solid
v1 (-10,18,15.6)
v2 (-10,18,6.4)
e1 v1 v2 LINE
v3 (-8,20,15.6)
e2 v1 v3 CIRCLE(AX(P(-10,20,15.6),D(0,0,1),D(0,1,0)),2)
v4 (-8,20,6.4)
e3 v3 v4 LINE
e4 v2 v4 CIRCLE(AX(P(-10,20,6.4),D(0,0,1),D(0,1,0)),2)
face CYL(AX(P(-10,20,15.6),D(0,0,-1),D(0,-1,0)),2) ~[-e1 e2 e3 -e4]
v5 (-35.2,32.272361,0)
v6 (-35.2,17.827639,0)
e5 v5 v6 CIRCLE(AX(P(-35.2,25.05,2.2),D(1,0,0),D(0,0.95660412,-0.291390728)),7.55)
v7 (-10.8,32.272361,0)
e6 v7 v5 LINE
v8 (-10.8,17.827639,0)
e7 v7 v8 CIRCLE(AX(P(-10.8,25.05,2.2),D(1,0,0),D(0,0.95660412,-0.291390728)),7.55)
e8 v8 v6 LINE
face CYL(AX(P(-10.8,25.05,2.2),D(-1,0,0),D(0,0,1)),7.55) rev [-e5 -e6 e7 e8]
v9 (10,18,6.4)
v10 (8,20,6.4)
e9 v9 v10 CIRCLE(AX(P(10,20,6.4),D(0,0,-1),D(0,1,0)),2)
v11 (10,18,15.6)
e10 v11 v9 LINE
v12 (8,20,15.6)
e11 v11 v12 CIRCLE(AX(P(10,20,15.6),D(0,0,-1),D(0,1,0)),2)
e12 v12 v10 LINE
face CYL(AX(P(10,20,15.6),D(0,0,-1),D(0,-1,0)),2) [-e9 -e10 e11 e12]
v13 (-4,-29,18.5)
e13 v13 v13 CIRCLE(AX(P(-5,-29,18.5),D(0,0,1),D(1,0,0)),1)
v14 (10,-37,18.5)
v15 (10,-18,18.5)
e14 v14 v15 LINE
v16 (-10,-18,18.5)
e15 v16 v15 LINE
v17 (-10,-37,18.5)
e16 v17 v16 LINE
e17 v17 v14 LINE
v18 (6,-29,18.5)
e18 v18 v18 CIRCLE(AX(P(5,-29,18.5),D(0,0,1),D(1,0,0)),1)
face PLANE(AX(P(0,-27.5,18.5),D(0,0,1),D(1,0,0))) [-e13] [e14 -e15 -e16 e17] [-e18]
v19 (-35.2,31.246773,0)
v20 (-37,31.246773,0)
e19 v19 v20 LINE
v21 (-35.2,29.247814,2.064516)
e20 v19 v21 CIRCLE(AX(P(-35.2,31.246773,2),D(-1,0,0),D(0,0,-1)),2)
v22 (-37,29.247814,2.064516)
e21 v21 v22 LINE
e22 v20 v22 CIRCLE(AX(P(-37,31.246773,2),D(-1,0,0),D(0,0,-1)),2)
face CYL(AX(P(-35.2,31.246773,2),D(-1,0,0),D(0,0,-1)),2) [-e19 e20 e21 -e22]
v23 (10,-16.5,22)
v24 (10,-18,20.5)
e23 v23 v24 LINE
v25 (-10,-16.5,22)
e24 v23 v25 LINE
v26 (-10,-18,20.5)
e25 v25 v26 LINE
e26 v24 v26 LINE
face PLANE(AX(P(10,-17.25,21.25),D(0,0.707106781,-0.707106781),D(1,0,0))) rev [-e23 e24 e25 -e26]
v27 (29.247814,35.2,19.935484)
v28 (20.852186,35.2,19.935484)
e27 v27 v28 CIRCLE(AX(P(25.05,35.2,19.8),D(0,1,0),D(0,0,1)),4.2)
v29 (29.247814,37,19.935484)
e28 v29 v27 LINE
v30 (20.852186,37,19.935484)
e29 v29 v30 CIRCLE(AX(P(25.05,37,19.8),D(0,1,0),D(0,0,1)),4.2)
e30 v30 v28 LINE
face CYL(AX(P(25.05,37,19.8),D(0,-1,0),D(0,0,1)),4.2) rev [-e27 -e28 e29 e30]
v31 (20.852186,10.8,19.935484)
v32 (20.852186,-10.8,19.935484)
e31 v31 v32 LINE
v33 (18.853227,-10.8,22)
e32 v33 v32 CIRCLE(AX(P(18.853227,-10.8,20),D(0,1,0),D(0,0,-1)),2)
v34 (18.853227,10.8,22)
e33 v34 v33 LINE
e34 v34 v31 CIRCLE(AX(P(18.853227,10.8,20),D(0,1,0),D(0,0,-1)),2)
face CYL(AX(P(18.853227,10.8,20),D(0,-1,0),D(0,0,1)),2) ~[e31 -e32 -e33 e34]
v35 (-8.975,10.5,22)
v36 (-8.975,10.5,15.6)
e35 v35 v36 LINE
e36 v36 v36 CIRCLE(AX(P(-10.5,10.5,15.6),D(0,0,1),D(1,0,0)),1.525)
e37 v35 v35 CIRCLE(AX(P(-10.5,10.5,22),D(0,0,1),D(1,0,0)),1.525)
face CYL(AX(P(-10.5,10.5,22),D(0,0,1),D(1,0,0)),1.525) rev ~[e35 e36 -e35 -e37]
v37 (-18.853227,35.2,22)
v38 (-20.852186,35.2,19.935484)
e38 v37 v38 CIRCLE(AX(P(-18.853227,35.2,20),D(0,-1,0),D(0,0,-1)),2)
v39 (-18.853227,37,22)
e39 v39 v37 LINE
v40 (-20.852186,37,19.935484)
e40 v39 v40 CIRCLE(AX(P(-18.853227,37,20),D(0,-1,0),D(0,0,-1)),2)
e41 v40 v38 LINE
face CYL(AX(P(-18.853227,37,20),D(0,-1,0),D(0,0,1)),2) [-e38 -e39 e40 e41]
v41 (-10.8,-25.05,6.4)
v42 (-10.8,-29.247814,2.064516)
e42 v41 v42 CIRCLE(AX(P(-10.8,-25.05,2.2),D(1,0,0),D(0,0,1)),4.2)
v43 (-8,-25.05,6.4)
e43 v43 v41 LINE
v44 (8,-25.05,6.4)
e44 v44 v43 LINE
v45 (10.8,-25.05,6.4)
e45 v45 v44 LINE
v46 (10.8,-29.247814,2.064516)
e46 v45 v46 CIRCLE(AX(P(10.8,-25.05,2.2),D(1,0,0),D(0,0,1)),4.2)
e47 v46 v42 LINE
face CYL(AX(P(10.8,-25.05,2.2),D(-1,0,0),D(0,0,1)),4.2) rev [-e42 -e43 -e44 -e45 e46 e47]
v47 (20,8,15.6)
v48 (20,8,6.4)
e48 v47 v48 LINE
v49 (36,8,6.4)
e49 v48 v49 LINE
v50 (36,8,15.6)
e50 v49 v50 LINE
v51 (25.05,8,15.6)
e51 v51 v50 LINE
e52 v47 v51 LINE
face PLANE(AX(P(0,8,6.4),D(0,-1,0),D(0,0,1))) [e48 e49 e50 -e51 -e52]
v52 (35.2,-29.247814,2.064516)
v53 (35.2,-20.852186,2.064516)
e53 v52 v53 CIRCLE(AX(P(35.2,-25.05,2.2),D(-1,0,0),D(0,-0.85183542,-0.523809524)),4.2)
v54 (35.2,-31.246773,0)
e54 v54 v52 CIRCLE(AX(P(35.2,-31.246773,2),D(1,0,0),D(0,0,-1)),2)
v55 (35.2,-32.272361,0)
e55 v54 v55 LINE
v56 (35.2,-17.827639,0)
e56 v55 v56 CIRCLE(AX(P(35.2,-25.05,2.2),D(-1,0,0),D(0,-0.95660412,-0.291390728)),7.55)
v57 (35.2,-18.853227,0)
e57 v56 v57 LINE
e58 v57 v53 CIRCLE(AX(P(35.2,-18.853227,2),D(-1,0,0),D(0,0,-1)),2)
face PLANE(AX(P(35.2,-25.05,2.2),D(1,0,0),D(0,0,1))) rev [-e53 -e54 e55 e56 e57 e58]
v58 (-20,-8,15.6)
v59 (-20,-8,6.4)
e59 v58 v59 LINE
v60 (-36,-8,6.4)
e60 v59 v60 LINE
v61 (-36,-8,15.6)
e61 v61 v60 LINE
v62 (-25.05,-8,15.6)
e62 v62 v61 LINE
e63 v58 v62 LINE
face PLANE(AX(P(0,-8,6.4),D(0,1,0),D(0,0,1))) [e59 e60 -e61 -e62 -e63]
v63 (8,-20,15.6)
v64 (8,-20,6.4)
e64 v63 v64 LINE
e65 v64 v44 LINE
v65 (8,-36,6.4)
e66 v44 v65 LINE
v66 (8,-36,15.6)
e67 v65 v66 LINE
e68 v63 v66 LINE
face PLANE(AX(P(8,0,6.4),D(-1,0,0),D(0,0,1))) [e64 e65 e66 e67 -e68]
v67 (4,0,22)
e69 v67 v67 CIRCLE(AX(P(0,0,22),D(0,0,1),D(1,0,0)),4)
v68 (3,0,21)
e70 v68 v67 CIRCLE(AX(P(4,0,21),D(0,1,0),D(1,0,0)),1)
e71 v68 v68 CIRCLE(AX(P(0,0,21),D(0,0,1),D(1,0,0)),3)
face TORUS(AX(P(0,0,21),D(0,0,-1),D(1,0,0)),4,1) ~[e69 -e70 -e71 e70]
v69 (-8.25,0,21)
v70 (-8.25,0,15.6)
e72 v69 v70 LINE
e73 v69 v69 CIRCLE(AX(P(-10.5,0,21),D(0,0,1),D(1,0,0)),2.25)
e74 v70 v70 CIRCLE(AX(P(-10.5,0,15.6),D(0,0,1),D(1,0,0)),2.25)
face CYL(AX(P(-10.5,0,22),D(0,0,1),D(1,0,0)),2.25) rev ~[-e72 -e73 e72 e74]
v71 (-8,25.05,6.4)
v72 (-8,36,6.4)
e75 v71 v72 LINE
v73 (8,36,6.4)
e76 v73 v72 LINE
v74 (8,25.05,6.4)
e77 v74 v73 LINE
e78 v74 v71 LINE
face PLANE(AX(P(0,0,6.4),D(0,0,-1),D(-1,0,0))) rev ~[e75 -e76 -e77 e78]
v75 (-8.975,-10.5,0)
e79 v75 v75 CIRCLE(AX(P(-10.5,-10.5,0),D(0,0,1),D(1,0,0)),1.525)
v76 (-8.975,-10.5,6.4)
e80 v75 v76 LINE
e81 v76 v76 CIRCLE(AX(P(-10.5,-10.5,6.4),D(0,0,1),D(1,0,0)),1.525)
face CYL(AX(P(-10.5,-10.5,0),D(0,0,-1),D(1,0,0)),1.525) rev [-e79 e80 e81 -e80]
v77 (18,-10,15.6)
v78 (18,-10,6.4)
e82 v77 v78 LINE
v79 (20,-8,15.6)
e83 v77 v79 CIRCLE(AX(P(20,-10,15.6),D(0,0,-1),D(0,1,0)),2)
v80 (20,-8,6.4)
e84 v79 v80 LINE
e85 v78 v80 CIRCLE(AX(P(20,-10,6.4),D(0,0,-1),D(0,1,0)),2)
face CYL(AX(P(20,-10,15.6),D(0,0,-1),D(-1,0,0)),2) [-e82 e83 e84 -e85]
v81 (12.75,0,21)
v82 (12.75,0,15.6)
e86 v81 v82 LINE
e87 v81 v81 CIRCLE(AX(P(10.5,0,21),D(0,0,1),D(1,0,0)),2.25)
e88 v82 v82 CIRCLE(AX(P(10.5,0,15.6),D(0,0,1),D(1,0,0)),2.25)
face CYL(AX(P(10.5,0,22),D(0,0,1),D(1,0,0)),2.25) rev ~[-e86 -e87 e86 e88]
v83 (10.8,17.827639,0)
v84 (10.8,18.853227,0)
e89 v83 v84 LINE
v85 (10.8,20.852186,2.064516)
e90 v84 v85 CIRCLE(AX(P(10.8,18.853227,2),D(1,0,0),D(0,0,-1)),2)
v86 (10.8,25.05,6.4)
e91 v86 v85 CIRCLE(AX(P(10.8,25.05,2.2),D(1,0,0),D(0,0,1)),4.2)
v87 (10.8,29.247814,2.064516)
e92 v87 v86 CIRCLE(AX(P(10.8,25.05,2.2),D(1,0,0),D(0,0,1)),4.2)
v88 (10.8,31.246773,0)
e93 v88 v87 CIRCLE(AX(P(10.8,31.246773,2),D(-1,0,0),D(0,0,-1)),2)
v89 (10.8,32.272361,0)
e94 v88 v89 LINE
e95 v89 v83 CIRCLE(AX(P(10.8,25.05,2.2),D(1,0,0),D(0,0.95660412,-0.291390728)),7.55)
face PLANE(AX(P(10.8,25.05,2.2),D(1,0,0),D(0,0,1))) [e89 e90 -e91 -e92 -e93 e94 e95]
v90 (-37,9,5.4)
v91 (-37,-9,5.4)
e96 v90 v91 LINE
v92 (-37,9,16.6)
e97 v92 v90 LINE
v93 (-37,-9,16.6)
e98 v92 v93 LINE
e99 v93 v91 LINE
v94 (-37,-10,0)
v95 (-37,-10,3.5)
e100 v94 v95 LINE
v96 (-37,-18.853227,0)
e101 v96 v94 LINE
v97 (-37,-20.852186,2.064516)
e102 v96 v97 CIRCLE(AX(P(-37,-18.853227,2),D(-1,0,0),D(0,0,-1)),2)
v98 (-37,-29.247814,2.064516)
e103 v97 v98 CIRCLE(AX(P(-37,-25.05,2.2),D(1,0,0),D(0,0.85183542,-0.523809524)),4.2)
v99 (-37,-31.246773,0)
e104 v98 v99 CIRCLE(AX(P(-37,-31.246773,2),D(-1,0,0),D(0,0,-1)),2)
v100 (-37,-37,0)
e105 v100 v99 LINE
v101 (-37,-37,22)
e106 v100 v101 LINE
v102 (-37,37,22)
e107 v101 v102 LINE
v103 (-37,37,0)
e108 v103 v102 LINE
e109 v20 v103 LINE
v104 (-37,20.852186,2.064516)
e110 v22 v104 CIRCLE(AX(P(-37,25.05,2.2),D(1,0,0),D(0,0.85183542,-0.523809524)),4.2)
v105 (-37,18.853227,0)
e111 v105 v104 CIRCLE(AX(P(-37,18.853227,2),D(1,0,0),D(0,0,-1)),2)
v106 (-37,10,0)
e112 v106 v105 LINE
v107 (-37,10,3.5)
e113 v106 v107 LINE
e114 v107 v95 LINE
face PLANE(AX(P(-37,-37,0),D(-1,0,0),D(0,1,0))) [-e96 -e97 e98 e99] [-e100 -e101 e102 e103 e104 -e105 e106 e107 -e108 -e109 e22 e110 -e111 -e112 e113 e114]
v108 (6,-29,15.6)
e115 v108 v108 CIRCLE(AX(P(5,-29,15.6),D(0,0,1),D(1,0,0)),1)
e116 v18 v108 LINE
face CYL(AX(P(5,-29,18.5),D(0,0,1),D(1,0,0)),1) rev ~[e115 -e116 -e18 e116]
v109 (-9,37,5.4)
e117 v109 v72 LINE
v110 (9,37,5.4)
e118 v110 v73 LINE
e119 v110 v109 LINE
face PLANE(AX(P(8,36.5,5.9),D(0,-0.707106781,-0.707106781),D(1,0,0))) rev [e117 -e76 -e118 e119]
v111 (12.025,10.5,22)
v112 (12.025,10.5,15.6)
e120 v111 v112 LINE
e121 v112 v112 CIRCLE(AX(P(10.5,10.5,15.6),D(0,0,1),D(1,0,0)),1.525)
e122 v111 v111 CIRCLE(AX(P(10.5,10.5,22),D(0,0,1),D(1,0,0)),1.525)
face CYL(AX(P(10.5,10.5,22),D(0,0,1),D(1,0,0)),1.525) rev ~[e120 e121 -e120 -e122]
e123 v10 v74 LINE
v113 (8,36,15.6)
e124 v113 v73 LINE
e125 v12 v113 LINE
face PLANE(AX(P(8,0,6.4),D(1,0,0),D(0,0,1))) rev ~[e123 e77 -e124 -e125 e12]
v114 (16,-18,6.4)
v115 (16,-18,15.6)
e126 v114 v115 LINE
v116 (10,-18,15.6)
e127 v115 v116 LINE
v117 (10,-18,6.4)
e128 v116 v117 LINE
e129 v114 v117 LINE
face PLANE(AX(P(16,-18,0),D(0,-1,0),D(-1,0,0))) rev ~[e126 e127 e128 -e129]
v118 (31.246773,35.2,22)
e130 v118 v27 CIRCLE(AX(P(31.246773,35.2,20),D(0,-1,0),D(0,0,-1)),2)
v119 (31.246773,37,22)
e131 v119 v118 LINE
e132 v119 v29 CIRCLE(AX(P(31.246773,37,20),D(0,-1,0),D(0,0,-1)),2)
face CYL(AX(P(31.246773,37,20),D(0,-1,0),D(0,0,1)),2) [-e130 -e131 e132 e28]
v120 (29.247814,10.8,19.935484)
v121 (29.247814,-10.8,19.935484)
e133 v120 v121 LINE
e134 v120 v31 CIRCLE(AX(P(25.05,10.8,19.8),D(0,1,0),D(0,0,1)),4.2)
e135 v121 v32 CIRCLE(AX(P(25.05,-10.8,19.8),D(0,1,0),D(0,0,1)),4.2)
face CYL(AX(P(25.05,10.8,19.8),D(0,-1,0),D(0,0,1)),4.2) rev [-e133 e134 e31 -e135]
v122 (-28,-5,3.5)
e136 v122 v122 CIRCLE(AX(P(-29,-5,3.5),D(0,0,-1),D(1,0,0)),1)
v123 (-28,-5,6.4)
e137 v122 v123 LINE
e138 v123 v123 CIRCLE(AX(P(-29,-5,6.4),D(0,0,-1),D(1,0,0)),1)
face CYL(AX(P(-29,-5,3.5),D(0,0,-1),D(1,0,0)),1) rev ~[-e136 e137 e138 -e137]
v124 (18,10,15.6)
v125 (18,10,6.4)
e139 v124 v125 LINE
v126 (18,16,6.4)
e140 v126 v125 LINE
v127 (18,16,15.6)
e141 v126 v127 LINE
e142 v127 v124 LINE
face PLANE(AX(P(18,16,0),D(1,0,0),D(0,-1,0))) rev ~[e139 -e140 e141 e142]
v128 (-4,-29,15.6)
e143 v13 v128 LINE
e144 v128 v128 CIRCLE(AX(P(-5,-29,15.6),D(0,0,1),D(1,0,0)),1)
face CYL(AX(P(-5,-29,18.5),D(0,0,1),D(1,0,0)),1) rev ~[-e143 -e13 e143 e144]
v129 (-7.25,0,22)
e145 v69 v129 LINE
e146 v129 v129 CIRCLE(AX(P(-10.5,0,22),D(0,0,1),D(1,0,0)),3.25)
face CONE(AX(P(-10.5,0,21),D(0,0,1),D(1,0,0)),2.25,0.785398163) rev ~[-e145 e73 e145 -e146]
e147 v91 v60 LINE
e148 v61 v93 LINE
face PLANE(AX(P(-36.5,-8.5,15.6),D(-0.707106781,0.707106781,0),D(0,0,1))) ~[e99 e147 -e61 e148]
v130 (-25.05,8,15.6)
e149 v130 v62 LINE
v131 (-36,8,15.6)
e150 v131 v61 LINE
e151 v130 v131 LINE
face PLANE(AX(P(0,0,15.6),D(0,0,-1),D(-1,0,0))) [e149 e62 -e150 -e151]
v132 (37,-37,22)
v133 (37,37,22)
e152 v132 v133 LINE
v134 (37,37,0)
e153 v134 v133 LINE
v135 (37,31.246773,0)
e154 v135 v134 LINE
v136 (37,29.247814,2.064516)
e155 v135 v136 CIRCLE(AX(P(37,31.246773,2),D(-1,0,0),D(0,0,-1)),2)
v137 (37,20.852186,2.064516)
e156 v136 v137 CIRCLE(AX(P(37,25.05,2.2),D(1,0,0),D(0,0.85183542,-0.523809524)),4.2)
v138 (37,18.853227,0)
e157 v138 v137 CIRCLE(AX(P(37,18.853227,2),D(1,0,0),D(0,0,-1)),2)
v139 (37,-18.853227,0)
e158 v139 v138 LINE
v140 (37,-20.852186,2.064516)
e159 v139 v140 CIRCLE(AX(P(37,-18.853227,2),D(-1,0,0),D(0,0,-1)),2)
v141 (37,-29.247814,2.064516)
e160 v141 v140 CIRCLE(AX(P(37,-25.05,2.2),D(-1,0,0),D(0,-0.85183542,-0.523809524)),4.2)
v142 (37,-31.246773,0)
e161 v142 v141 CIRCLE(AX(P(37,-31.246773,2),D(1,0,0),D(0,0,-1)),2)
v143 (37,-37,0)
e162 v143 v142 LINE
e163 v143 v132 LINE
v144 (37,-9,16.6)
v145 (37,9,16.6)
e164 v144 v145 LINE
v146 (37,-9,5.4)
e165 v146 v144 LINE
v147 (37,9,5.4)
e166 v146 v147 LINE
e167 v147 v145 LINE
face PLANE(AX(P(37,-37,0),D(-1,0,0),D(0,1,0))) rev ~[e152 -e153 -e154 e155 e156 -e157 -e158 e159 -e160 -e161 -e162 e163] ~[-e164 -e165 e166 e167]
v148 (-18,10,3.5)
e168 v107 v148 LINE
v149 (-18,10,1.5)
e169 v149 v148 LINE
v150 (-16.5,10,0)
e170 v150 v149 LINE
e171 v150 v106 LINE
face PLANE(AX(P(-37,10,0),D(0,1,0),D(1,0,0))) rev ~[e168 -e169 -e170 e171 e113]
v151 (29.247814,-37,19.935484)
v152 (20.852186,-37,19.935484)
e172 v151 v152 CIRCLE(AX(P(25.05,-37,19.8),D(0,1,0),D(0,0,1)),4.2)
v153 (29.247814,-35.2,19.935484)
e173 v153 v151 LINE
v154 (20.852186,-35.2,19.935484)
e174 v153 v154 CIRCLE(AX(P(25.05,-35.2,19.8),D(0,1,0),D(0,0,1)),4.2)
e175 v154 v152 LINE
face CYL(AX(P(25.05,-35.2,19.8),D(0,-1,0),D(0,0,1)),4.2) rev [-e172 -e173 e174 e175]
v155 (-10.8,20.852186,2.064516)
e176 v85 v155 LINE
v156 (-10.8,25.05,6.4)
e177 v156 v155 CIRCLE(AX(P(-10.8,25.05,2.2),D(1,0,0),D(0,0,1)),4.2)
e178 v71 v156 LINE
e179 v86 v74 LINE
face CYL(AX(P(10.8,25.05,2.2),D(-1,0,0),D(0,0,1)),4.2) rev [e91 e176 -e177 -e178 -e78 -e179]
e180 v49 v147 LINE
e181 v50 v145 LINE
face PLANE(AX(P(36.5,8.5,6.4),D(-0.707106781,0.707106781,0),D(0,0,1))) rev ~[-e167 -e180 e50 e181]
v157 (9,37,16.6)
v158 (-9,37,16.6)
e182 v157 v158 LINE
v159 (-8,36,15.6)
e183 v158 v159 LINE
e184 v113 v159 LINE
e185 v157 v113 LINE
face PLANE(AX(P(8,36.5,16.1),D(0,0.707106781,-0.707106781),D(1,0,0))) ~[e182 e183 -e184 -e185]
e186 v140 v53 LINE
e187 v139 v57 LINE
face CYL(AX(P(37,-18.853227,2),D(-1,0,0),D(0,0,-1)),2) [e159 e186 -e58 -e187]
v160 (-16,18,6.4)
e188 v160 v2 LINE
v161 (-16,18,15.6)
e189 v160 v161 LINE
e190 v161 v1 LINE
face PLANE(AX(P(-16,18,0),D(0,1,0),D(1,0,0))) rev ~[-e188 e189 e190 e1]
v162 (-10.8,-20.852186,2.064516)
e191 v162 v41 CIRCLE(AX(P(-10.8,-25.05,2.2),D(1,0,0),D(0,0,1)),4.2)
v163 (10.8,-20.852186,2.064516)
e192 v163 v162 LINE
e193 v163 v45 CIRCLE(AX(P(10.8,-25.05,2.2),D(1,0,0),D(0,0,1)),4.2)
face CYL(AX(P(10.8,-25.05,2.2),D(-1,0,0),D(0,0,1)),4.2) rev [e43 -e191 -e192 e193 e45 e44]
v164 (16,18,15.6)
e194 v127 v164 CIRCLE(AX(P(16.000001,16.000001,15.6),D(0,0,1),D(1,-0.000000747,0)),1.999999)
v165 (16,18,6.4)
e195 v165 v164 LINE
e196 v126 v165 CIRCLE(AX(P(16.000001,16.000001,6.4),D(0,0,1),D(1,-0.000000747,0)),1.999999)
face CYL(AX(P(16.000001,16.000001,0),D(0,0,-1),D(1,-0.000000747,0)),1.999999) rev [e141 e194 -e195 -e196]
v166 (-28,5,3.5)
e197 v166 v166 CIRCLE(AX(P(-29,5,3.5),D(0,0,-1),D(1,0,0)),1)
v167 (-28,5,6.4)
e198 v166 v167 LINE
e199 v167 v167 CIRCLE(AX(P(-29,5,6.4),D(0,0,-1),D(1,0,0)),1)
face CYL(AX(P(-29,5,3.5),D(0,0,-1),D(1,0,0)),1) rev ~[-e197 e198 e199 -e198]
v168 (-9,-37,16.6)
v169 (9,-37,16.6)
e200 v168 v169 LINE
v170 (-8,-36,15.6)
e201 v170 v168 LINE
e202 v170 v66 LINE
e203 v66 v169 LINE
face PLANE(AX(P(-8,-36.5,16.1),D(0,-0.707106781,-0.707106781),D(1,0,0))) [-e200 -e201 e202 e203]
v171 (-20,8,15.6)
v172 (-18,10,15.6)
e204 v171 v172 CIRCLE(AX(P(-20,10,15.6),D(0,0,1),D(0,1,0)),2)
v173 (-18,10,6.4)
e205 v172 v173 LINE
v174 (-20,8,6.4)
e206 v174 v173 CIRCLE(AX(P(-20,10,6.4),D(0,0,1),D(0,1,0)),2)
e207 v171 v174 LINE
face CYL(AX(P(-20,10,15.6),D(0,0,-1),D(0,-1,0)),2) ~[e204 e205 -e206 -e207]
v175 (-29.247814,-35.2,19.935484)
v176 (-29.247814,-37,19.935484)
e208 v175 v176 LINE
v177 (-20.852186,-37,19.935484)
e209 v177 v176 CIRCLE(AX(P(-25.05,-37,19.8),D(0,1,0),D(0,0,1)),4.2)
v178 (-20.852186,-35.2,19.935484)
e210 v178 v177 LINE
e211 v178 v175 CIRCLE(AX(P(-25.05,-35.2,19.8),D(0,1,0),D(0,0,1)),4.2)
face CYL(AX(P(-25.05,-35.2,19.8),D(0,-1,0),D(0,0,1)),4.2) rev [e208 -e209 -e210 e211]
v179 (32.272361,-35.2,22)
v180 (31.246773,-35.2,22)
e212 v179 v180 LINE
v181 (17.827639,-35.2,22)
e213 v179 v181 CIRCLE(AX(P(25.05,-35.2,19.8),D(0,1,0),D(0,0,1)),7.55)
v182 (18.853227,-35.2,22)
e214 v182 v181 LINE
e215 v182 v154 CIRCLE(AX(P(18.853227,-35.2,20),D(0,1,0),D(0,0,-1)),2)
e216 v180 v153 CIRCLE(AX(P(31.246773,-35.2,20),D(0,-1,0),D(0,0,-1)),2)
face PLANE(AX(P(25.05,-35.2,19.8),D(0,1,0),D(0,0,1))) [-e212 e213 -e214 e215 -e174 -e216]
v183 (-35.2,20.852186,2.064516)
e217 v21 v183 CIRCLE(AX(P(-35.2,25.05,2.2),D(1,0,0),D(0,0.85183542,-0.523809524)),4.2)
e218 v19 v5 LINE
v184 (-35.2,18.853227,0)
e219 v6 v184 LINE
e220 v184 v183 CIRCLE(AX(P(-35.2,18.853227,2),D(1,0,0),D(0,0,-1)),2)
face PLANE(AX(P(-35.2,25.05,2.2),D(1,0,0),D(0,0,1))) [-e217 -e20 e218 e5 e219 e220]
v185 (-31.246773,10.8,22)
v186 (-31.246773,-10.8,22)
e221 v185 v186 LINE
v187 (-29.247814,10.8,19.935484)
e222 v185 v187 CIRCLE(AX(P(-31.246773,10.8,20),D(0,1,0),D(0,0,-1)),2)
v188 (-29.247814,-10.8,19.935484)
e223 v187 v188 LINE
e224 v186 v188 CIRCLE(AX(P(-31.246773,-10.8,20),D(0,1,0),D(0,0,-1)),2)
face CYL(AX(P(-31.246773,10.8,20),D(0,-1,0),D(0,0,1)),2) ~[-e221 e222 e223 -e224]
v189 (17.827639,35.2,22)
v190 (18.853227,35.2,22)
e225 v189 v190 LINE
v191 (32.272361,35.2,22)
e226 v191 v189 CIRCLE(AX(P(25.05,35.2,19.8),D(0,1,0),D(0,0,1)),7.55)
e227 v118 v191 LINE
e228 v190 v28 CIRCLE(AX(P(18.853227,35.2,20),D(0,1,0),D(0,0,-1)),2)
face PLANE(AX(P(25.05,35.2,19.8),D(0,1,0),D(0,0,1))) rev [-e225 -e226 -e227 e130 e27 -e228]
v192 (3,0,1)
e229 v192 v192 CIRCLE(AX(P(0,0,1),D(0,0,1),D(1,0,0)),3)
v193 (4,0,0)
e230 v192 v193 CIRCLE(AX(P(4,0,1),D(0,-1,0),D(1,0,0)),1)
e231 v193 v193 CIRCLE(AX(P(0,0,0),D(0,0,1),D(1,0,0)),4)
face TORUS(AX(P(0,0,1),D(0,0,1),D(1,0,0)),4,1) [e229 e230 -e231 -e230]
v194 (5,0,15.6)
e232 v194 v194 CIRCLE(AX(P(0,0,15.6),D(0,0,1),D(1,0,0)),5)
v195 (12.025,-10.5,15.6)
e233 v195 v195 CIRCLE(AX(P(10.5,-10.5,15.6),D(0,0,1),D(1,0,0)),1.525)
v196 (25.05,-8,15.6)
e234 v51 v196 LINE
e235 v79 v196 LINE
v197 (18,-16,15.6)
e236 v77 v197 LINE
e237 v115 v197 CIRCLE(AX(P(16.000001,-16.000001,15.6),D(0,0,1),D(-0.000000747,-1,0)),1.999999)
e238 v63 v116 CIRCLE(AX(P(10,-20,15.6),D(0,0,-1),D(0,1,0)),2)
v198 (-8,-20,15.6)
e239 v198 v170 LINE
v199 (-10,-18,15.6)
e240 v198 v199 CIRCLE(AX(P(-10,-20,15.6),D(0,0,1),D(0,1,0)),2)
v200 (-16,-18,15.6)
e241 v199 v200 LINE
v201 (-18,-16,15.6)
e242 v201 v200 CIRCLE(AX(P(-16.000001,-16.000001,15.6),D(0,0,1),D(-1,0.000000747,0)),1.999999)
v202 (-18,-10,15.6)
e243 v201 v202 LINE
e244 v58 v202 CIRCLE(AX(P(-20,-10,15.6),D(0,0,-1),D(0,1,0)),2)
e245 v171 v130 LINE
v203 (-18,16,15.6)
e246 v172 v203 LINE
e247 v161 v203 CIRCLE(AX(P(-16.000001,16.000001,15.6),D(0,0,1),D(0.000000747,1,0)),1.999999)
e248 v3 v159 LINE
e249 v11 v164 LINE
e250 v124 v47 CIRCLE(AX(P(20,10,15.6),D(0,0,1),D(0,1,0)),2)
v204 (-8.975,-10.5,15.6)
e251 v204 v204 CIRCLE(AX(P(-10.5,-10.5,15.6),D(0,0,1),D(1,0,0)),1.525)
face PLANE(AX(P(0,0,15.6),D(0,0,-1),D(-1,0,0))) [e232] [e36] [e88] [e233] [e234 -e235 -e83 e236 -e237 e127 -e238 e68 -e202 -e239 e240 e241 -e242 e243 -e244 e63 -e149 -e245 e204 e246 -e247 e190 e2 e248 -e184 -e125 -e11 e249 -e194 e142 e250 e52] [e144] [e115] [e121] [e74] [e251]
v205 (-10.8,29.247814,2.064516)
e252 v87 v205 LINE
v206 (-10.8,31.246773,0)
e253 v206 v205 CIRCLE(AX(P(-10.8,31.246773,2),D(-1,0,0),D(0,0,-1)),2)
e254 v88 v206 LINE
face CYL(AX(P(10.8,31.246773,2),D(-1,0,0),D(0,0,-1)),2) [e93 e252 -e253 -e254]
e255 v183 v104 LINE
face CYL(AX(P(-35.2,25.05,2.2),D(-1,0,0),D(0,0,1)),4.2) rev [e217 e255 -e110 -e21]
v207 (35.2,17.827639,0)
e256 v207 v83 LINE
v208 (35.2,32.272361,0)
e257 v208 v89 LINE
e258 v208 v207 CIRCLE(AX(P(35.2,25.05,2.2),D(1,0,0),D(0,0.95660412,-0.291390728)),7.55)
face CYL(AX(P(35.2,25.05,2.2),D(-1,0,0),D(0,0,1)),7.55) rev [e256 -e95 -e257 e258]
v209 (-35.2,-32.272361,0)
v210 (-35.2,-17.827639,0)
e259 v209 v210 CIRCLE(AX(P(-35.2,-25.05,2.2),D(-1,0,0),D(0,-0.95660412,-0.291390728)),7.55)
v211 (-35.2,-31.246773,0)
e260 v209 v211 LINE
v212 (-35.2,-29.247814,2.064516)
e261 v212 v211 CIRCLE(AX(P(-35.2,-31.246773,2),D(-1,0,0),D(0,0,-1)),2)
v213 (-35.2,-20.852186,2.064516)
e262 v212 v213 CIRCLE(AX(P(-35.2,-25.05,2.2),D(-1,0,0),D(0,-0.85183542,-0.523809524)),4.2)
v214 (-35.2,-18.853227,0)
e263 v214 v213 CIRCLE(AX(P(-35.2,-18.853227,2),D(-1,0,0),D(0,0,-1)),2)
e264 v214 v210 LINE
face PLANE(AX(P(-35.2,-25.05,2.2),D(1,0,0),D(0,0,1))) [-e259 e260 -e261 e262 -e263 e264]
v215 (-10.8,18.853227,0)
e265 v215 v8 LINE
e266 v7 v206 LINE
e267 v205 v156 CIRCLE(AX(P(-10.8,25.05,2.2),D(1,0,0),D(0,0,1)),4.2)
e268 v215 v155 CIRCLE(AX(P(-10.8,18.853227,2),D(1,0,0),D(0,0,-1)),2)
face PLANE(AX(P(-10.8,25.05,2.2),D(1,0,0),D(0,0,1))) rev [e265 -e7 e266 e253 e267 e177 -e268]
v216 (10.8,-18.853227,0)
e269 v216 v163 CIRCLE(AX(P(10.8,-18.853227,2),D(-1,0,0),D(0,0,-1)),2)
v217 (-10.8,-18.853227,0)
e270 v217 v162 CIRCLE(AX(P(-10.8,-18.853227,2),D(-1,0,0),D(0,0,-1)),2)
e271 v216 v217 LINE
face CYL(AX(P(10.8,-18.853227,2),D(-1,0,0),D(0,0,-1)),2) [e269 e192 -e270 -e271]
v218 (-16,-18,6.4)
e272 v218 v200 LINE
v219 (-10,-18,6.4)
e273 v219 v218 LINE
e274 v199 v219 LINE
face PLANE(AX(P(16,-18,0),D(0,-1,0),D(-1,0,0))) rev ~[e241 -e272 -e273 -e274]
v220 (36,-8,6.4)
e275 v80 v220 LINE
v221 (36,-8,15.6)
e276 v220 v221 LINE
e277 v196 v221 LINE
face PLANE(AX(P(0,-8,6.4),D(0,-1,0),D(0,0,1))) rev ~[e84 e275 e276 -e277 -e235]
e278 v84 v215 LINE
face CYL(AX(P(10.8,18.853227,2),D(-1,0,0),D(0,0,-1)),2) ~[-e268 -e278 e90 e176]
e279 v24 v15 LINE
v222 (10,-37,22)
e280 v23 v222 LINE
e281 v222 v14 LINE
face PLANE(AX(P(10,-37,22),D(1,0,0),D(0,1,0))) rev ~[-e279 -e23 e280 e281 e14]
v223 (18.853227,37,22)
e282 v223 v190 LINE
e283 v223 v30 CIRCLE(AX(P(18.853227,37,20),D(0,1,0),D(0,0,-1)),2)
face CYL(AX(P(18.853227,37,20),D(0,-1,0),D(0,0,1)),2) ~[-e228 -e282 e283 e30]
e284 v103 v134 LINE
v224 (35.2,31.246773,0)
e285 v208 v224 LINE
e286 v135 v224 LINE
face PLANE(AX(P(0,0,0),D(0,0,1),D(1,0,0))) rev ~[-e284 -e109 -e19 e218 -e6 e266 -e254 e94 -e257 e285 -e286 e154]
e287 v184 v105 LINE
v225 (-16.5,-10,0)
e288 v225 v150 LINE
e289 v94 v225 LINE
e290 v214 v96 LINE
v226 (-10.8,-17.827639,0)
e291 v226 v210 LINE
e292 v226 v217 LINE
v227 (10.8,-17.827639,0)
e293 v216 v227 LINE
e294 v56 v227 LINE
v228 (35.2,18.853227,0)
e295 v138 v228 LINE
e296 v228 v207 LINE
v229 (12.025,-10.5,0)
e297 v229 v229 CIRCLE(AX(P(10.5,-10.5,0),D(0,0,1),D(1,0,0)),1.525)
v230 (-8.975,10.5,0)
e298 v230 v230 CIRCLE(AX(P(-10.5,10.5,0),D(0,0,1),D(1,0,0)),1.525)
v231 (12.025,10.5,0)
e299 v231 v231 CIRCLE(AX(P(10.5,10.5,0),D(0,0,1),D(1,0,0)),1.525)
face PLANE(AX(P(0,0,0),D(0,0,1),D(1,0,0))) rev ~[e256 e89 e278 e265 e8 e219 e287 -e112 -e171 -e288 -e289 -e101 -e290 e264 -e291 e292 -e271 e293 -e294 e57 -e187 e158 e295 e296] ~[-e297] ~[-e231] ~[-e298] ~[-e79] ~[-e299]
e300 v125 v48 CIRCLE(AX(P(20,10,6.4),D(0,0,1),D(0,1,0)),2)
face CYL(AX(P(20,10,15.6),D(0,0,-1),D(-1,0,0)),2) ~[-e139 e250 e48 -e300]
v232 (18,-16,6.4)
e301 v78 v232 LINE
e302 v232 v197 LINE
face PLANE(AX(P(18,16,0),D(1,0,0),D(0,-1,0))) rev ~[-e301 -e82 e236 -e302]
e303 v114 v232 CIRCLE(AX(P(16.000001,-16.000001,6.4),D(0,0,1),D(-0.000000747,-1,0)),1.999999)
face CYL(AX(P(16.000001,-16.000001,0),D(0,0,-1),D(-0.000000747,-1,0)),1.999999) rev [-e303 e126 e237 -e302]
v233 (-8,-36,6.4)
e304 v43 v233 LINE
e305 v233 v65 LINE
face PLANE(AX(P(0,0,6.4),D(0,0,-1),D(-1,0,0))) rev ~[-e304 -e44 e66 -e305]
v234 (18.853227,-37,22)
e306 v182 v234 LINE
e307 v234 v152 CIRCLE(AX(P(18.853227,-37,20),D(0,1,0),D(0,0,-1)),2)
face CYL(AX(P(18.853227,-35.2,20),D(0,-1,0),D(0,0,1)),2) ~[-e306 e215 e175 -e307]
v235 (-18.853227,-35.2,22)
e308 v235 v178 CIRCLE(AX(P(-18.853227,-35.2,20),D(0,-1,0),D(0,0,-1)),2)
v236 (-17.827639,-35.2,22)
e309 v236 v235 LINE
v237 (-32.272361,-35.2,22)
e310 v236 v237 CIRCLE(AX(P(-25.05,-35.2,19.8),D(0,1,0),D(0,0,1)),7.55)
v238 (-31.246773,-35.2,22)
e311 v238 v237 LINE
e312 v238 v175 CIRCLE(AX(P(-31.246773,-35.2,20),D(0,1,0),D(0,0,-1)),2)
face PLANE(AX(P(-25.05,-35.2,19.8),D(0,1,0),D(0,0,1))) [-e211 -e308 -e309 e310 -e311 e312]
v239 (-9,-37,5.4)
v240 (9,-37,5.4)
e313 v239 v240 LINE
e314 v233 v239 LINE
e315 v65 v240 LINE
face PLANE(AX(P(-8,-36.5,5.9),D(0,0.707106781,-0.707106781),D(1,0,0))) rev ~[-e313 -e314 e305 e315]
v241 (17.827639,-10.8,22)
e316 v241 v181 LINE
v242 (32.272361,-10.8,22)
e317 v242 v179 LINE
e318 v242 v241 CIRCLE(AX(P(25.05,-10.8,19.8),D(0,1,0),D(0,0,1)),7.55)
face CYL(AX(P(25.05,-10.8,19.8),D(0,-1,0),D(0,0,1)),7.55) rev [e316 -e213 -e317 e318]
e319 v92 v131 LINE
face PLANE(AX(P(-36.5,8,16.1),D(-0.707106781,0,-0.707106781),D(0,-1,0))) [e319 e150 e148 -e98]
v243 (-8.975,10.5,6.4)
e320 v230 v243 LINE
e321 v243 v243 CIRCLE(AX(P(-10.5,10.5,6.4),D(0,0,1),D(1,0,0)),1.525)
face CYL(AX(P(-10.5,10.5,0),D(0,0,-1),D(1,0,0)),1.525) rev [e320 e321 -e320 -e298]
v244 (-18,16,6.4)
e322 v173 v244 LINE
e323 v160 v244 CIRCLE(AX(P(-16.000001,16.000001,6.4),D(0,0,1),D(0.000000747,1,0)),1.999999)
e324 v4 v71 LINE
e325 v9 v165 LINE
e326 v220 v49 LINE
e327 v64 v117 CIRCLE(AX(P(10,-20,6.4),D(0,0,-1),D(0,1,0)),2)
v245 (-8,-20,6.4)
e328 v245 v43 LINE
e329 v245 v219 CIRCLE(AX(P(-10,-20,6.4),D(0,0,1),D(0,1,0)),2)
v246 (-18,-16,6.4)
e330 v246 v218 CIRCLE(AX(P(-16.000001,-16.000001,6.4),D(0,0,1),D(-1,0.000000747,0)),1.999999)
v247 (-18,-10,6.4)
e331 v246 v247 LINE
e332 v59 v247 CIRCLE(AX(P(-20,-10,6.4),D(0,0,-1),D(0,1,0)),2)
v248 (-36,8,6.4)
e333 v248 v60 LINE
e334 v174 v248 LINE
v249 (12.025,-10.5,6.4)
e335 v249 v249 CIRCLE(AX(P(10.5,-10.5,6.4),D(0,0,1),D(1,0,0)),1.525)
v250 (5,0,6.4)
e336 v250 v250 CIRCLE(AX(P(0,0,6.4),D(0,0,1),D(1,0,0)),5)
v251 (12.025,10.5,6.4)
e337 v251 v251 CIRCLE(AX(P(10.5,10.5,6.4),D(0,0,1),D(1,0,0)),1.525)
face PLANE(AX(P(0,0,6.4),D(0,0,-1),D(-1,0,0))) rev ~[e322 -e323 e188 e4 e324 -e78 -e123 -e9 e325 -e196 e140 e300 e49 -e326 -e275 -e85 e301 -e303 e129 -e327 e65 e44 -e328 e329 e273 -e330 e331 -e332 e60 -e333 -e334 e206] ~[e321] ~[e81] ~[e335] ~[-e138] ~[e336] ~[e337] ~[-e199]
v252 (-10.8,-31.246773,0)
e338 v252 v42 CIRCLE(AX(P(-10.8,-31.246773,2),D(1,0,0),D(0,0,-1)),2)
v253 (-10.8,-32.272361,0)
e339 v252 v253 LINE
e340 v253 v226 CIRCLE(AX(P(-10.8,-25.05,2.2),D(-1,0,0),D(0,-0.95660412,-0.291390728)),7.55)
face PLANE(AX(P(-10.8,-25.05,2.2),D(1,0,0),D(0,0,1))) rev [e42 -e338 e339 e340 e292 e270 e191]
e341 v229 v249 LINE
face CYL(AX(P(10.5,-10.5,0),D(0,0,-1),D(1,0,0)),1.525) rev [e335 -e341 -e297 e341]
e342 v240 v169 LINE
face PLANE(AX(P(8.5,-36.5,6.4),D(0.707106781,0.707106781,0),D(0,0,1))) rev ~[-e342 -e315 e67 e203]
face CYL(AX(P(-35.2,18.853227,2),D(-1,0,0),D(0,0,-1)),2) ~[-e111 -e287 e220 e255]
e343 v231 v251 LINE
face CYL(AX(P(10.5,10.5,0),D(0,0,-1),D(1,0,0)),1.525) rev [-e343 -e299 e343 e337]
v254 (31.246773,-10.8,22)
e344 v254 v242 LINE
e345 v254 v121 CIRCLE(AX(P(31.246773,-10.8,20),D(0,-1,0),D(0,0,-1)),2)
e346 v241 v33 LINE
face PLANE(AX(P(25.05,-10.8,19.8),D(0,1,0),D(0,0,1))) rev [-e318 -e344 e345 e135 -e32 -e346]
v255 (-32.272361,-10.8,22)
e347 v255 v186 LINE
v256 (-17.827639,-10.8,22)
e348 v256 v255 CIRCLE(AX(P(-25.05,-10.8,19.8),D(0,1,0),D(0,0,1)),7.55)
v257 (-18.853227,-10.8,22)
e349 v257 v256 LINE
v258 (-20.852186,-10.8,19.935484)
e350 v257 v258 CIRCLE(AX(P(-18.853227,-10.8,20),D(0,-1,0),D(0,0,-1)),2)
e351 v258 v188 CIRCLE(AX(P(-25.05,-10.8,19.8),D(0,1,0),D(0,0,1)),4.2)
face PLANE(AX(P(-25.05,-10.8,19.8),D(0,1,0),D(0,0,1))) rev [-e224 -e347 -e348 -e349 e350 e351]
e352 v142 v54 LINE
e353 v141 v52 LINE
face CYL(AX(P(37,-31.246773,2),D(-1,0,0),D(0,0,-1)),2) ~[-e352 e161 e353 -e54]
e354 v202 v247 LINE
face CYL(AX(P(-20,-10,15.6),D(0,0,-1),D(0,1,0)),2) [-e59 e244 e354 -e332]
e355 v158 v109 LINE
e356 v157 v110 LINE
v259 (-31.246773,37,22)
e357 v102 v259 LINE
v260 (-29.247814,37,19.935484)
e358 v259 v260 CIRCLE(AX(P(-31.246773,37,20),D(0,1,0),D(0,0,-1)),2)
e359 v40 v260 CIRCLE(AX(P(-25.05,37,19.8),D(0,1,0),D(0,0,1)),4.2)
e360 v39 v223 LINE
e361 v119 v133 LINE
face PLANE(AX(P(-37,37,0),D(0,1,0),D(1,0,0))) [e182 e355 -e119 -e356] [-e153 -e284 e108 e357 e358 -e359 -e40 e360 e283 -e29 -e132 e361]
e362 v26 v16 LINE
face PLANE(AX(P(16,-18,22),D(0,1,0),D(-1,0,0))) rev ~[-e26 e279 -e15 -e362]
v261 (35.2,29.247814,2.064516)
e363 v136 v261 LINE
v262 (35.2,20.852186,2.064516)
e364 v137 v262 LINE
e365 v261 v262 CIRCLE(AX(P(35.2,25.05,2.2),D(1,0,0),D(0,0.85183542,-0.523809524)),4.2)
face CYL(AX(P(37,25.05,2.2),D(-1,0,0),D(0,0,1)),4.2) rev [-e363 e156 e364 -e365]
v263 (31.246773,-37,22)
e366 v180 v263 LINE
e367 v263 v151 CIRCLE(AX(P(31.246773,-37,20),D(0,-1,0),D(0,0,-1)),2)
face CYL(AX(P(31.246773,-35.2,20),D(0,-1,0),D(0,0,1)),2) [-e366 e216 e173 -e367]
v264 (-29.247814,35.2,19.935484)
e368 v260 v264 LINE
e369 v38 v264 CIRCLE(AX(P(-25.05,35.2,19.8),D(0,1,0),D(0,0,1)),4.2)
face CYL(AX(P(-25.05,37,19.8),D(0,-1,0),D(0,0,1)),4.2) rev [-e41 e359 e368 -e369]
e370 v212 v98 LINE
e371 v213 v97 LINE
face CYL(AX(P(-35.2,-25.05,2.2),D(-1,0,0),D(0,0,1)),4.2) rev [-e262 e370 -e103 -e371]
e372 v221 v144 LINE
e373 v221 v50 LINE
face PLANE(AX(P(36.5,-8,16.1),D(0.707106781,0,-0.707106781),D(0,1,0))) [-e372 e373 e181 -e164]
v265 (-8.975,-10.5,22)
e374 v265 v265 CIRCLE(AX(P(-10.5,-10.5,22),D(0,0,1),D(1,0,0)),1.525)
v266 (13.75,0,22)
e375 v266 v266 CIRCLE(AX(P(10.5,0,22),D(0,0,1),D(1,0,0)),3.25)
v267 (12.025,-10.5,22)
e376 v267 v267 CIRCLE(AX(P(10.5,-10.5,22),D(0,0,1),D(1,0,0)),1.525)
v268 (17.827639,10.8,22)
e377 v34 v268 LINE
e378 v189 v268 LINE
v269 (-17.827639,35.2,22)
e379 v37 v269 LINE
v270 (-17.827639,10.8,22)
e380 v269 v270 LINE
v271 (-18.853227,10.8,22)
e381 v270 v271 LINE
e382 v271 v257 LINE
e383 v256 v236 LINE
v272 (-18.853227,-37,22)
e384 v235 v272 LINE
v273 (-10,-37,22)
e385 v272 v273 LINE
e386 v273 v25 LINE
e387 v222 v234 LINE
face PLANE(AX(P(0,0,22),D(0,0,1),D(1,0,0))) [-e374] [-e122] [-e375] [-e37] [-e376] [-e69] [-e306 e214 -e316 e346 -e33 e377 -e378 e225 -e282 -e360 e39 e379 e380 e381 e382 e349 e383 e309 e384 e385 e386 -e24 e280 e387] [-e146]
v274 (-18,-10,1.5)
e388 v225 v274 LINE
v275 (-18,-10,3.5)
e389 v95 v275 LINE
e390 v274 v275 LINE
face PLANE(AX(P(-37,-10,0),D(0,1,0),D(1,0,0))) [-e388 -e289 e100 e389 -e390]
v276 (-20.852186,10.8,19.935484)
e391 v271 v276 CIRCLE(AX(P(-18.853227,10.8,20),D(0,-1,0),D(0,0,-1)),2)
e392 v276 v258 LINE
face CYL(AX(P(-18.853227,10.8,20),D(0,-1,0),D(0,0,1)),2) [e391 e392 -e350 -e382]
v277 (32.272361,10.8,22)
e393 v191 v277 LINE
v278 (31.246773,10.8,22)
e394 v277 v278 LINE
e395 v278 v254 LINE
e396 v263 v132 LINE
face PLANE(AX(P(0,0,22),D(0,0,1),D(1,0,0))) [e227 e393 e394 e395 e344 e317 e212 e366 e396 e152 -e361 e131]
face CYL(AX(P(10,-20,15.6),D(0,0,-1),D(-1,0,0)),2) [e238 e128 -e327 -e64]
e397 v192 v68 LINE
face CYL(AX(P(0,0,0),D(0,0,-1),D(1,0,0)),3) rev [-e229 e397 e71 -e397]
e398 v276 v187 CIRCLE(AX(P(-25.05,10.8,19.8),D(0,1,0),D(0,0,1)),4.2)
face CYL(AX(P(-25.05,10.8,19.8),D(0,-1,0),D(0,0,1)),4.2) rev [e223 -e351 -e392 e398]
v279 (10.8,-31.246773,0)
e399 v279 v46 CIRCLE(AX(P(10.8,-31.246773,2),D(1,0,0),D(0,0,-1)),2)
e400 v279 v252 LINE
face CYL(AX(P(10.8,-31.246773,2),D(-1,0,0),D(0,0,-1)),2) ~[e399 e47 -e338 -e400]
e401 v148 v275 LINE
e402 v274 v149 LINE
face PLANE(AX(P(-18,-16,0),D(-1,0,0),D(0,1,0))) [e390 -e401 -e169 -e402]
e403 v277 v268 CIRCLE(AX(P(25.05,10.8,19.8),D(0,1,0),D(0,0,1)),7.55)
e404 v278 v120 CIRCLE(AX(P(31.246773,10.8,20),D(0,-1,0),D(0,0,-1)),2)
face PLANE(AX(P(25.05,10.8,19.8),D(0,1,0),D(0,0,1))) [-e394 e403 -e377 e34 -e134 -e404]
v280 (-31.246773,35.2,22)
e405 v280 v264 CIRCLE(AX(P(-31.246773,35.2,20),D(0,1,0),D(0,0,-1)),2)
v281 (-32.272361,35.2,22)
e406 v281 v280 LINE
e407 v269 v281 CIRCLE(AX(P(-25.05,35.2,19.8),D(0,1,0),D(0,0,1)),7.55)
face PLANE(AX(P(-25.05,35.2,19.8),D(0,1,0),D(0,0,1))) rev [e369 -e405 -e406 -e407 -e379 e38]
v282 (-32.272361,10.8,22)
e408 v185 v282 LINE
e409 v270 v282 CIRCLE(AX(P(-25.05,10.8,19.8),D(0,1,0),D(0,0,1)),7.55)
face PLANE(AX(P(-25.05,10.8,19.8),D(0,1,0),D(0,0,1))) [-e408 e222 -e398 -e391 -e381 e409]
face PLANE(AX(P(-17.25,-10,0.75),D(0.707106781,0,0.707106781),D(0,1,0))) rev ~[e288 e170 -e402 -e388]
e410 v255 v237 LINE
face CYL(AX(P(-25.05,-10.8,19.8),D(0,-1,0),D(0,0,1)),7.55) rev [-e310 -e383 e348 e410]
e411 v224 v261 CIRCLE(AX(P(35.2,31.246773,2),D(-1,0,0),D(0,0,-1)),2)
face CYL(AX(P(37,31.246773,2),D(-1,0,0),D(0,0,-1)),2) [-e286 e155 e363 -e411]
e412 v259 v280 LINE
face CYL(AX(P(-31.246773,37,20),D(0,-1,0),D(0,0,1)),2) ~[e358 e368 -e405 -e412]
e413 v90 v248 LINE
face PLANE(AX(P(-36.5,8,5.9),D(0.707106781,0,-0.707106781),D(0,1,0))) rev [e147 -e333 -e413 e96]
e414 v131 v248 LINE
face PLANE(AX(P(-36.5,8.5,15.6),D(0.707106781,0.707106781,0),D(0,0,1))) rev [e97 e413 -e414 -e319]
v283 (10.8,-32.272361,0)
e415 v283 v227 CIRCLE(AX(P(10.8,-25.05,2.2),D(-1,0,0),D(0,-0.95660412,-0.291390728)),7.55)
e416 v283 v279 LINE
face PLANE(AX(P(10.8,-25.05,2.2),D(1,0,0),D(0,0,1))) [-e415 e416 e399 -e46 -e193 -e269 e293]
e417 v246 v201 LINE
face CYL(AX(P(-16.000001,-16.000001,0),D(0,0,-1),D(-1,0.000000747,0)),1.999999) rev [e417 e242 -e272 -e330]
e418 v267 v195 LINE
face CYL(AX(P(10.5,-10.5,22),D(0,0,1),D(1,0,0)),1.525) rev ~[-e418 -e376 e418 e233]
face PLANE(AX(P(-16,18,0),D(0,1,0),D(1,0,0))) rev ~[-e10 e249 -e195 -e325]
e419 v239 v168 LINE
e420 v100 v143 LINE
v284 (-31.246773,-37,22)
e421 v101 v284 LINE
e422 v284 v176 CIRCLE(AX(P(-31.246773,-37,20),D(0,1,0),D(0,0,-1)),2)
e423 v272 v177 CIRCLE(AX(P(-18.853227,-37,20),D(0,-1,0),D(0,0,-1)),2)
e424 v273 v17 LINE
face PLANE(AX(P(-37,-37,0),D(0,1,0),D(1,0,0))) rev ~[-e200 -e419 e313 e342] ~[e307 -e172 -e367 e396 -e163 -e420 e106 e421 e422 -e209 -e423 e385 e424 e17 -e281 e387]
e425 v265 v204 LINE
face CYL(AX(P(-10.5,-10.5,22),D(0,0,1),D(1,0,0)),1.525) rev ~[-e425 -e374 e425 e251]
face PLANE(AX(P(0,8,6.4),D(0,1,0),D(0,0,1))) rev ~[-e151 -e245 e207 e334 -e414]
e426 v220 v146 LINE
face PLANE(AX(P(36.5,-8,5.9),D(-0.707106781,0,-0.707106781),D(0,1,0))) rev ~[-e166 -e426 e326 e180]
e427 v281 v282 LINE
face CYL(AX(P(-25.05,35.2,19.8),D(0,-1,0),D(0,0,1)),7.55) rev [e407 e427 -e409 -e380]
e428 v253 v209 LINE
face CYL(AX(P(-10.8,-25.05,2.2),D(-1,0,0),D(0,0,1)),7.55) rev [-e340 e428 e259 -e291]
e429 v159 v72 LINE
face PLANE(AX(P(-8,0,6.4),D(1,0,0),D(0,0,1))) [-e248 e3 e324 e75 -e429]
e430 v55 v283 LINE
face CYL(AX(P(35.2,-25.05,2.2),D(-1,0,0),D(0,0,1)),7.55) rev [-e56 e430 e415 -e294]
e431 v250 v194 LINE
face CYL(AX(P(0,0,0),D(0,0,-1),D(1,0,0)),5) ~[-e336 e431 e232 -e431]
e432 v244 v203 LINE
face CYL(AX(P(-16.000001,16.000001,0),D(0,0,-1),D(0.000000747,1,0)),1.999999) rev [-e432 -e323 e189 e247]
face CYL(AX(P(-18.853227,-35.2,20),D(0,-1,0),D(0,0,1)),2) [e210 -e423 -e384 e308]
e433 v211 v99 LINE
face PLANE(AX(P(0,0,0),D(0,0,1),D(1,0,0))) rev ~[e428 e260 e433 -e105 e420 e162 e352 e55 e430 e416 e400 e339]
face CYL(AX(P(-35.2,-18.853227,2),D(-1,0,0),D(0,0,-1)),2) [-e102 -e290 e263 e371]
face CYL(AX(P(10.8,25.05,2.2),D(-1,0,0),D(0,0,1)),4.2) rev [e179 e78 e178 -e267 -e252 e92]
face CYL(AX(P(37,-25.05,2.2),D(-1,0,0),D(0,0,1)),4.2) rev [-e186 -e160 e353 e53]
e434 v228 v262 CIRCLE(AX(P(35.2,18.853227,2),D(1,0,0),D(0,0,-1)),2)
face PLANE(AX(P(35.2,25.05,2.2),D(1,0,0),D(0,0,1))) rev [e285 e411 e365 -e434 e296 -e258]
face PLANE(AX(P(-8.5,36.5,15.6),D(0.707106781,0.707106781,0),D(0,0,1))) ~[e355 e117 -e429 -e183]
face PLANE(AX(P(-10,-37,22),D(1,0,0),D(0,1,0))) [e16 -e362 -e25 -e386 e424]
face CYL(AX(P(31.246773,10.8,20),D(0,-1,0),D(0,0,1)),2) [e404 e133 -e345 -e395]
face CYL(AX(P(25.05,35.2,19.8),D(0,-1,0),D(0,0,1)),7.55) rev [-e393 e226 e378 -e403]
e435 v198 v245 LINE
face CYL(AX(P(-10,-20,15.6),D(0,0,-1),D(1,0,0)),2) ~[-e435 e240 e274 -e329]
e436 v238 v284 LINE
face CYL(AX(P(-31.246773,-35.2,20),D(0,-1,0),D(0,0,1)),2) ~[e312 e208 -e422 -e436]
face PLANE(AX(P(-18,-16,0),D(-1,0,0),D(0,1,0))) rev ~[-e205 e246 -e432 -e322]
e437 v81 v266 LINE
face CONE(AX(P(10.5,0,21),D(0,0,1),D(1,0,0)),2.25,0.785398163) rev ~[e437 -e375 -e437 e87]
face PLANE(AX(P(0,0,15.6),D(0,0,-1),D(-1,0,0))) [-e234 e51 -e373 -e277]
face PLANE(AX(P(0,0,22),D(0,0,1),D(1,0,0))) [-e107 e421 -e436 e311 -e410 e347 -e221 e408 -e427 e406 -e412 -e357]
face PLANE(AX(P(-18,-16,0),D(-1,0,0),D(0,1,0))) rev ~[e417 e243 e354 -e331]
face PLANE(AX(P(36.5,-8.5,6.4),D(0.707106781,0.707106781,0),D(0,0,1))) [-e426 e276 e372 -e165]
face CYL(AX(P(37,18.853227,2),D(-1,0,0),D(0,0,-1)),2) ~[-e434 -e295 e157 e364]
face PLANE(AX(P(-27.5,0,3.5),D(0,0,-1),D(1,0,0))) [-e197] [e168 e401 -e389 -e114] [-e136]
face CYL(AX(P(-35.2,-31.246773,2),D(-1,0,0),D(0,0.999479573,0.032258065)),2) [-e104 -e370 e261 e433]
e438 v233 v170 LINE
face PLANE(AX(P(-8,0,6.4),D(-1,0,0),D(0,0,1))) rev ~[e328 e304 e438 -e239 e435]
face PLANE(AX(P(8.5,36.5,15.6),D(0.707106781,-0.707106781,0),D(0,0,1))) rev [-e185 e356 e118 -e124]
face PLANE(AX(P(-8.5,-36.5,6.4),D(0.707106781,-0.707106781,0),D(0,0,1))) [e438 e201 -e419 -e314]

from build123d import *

# Parameters (mm, degrees)
SKETCH018_R          = 5
SKETCH018_R_2        = 1.525
PAD005_DEPTH         = 6.4
SKETCH019_R          = 5
SKETCH019_R_2        = 1.525
SKETCH019_R_3        = 2.25
PAD006_DEPTH         = 6.4
CHAMFER004_SIZE      = 1
SKETCH020_R          = 5
SKETCH020_R_2        = 3
PAD007_DEPTH         = 22
FILLET005_R          = 1
SKETCH015_W          = 74
SKETCH015_H          = 74
PAD004_DEPTH         = 22
SKETCH016_W          = 16
SKETCH016_H          = 9.2
POCKET010_DEPTH      = 37.001
POCKET010_DEPTH_BACK = -37.001
SKETCH017_W          = 16
SKETCH017_H          = 9.2
POCKET011_DEPTH      = 37.001
POCKET011_DEPTH_BACK = -37.001
FILLET004_R          = 2
CHAMFER003_SIZE      = 1
SKETCH021_W          = 20
SKETCH021_H          = 19
POCKET012_DEPTH      = 3.5
SKETCH022_W          = 19
SKETCH022_H          = 20
POCKET013_DEPTH      = 3.5
SKETCH023_R          = 1
POCKET014_DEPTH      = 2.9
SKETCH024_R          = 1
POCKET015_DEPTH      = 2.9
FILLET006_R          = 2
CHAMFER_SIZE         = 1.5


with BuildPart() as body006:
    # Sketch026 → Revolution001 (revolve)
    with BuildSketch(Plane.YZ):
        Polygon((-37, 4.2), (-37, 0), (37, 0), (37, 4.2), (35.2, 4.2), (35.2, 7.55), (10.8, 7.55), (10.8, 4.2), (-10.8, 4.2), (-10.8, 7.55), (-35.2, 7.55), (-35.2, 4.2), align=None)
    revolve(axis=Axis((0, 0, 0), (0, 1, 0)))


with BuildPart() as body006_1:
    # Body006 placement: moved
    add(body006.part.moved(Location((-25.05, 0, 19.8))))


with BuildPart() as body007:
    # Sketch027 → Revolution002 (revolve)
    with BuildSketch(Plane.XZ):
        Polygon((-37, 4.2), (-37, 0), (37, 0), (37, 4.2), (35.2, 4.2), (35.2, 7.55), (10.8, 7.55), (10.8, 4.2), (-10.8, 4.2), (-10.8, 7.55), (-35.2, 7.55), (-35.2, 4.2), align=None)
    revolve(axis=Axis((0, 0, 0), (1, 0, 0)))


with BuildPart() as body007_1:
    # Body007 placement: moved
    add(body007.part.moved(Location((0, 25.05, 2.2))))


with BuildPart() as body008:
    # Sketch028 → Revolution003 (revolve)
    with BuildSketch(Plane.XZ):
        Polygon((-37, 4.2), (-37, 0), (37, 0), (37, 4.2), (35.2, 4.2), (35.2, 7.55), (10.8, 7.55), (10.8, 4.2), (-10.8, 4.2), (-10.8, 7.55), (-35.2, 7.55), (-35.2, 4.2), align=None)
    revolve(axis=Axis((0, 0, 0), (1, 0, 0)))


with BuildPart() as body008_1:
    # Body008 placement: moved
    add(body008.part.moved(Location((0, -25.05, 2.2))))


with BuildPart() as bearingholes:
    # Sketch025 → Revolution (revolve)
    with BuildSketch(Plane.YZ):
        Polygon((-37, 4.2), (-37, 0), (37, 0), (37, 4.2), (35.2, 4.2), (35.2, 7.55), (10.8, 7.55), (10.8, 4.2), (-10.8, 4.2), (-10.8, 7.55), (-35.2, 7.55), (-35.2, 4.2), align=None)
    revolve(axis=Axis((0, 0, 0), (0, 1, 0)))


with BuildPart() as bearingholes_1:
    # Body005 placement: moved
    add(bearingholes.part.moved(Location((25.05, 0, 19.8))))

    # Fusion001: union Body006, Body007, Body008
    add(body006_1.part)
    add(body007_1.part)
    add(body008_1.part)


with BuildPart() as innercorebottom:
    # Sketch018 → Pad005 (new body)
    with BuildSketch(Plane.XY):
        with BuildLine():
            Line((-16, 18), (16, 18))
            ThreePointArc((18, 16), (17.414214, 17.414214), (16, 18))
            Line((18, 16), (18, -16))
            ThreePointArc((16, -18), (17.414214, -17.414214), (18, -16))
            Line((16, -18), (-16, -18))
            ThreePointArc((-18, -16), (-17.414214, -17.414214), (-16, -18))
            Line((-18, -16), (-18, 16))
            ThreePointArc((-16, 18), (-17.414214, 17.414214), (-18, 16))
        make_face()
        Circle(SKETCH018_R, mode=Mode.SUBTRACT)
        with Locations((-10.5, 10.5)):
            Circle(SKETCH018_R_2, mode=Mode.SUBTRACT)
        with Locations((10.5, 10.5)):
            Circle(SKETCH018_R_2, mode=Mode.SUBTRACT)
        with Locations((10.5, -10.5)):
            Circle(SKETCH018_R_2, mode=Mode.SUBTRACT)
        with Locations((-10.5, -10.5)):
            Circle(SKETCH018_R_2, mode=Mode.SUBTRACT)
    extrude(amount=PAD005_DEPTH)


with BuildPart() as innercoretop:
    # Sketch019 → Pad006 (new body)
    with BuildSketch(Plane.XY):
        with BuildLine():
            Line((-16, 18), (16, 18))
            ThreePointArc((18, 16), (17.414214, 17.414214), (16, 18))
            Line((18, 16), (18, -16))
            ThreePointArc((16, -18), (17.414214, -17.414214), (18, -16))
            Line((16, -18), (-16, -18))
            ThreePointArc((-18, -16), (-17.414214, -17.414214), (-16, -18))
            Line((-18, -16), (-18, 16))
            ThreePointArc((-16, 18), (-17.414214, 17.414214), (-18, 16))
        make_face()
        Circle(SKETCH019_R, mode=Mode.SUBTRACT)
        with Locations((-10.5, 10.5)):
            Circle(SKETCH019_R_2, mode=Mode.SUBTRACT)
        with Locations((10.5, 10.5)):
            Circle(SKETCH019_R_2, mode=Mode.SUBTRACT)
        with Locations((10.5, -10.5)):
            Circle(SKETCH019_R_2, mode=Mode.SUBTRACT)
        with Locations((-10.5, -10.5)):
            Circle(SKETCH019_R_2, mode=Mode.SUBTRACT)
        with Locations((-10.5, 0)):
            Circle(SKETCH019_R_3, mode=Mode.SUBTRACT)
        with Locations((10.5, 0)):
            Circle(SKETCH019_R_3, mode=Mode.SUBTRACT)
    extrude(amount=-PAD006_DEPTH)

    # Chamfer004
    chamfer004_edges = [innercoretop.edges().sort_by_distance(p)[0] for p in [
        (-12.75, 0, 0),
        (8.25, 0, 0),
    ]]
    chamfer(chamfer004_edges, length=CHAMFER004_SIZE)


with BuildPart() as innercoretop_1:
    # Body003 placement: moved
    add(innercoretop.part.moved(Location((0, 0, 22))))


with BuildPart() as centerhole:
    # Sketch020 → Pad007 (new body)
    with BuildSketch(Plane.XY):
        Circle(SKETCH020_R)
        Circle(SKETCH020_R_2, mode=Mode.SUBTRACT)
    extrude(amount=PAD007_DEPTH)

    # Fillet005
    fillet005_edges = [centerhole.edges().sort_by_distance(p)[0] for p in [
        (-3, 0, 22),
        (-3, 0, 0),
    ]]
    fillet(fillet005_edges, radius=FILLET005_R)


with BuildPart() as chamfer_body:
    # Sketch015 → Pad004 (new body)
    with BuildSketch(Plane.XY):
        Rectangle(SKETCH015_W, SKETCH015_H)
        with BuildLine():
            Line((-16, 18), (16, 18))
            ThreePointArc((18, 16), (17.414214, 17.414214), (16, 18))
            Line((18, 16), (18, -16))
            ThreePointArc((16, -18), (17.414214, -17.414214), (18, -16))
            Line((16, -18), (-16, -18))
            ThreePointArc((-18, -16), (-17.414214, -17.414214), (-16, -18))
            Line((-18, -16), (-18, 16))
            ThreePointArc((-16, 18), (-17.414214, 17.414214), (-18, 16))
        make_face(mode=Mode.SUBTRACT)
    extrude(amount=PAD004_DEPTH)

    # Sketch016 → Pocket010 (cut, two sides)
    with BuildSketch(Plane.YZ) as pocket010_sk:
        with Locations((0, 11)):
            Rectangle(SKETCH016_W, SKETCH016_H)
    extrude(amount=-POCKET010_DEPTH, mode=Mode.SUBTRACT)
    extrude(pocket010_sk.sketch, amount=-POCKET010_DEPTH_BACK, mode=Mode.SUBTRACT)

    # Sketch017 → Pocket011 (cut, two sides)
    with BuildSketch(Plane.XZ) as pocket011_sk:
        with Locations((0, 11)):
            Rectangle(SKETCH017_W, SKETCH017_H)
    extrude(amount=-POCKET011_DEPTH, mode=Mode.SUBTRACT)
    extrude(pocket011_sk.sketch, amount=-POCKET011_DEPTH_BACK, mode=Mode.SUBTRACT)

    # Fillet004
    fillet004_edges = [chamfer_body.edges().sort_by_distance(p)[0] for p in [
        (-18, -8, 11),
        (-18, 8, 11),
        (-8, -18, 11),
        (8, -18, 11),
        (-8, 18, 11),
        (8, 18, 11),
        (18, 8, 11),
        (18, -8, 11),
    ]]
    fillet(fillet004_edges, radius=FILLET004_R)

    # Chamfer003
    chamfer003_edges = [chamfer_body.edges().sort_by_distance(p)[0] for p in [
        (0, 37, 15.6),
        (8, 37, 11),
        (0, 37, 6.4),
        (-8, 37, 11),
        (-37, 8, 11),
        (-37, 0, 15.6),
        (-37, -8, 11),
        (-37, 0, 6.4),
        (-8, -37, 11),
        (0, -37, 15.6),
        (0, -37, 6.4),
        (8, -37, 11),
        (37, 8, 11),
        (37, 0, 15.6),
        (37, 0, 6.4),
        (37, -8, 11),
    ]]
    chamfer(chamfer003_edges, length=CHAMFER003_SIZE)

    # Sketch021 (on Face15 of Chamfer003) → Pocket012 (cut)
    with BuildSketch(Plane.XY.offset(22)):
        with Locations((0, -27.5)):
            Rectangle(SKETCH021_W, SKETCH021_H)
    extrude(amount=-POCKET012_DEPTH, mode=Mode.SUBTRACT)

    # Sketch022 (on Face14 of Pocket012) → Pocket013 (cut)
    with BuildSketch(Plane(origin=(0, 0, 0), x_dir=(1, 0, 0), z_dir=(0, 0, -1))):
        with Locations((-27.5, 0)):
            Rectangle(SKETCH022_W, SKETCH022_H)
    extrude(amount=-POCKET013_DEPTH, mode=Mode.SUBTRACT)

    # Sketch023 (on Face46 of Pocket013) → Pocket014 (cut)
    with BuildSketch(Plane.XY.offset(18.5)):
        with Locations((-5, -29)):
            Circle(SKETCH023_R)
        with Locations((5, -29)):
            Circle(SKETCH023_R)
    extrude(amount=-POCKET014_DEPTH, mode=Mode.SUBTRACT)

    # Sketch024 (on Face29 of Pocket014) → Pocket015 (cut)
    with BuildSketch(Plane(origin=(0, 0, 3.5), x_dir=(1, 0, 0), z_dir=(0, 0, -1))):
        with Locations((-29, 5)):
            Circle(SKETCH024_R)
        with Locations((-29, -5)):
            Circle(SKETCH024_R)
    extrude(amount=-POCKET015_DEPTH, mode=Mode.SUBTRACT)

    # Fusion: union InnerCoreBottom, InnerCoreTop, CenterHole
    add(innercorebottom.part)
    add(innercoretop_1.part)
    add(centerhole.part)

    # Cut: cut BearingHoles
    add(bearingholes_1.part, mode=Mode.SUBTRACT)

    # Fillet006
    fillet006_edges = [chamfer_body.edges().sort_by_distance(p)[0] for p in [
        (-36.1, 28.627709, 0),
        (0, 28.627709, 0),
        (36.1, 28.627709, 0),
        (28.627709, 36.1, 22),
        (28.627709, 0, 22),
        (28.627709, -36.1, 22),
        (21.472291, 36.1, 22),
        (-21.472291, 36.1, 22),
        (-28.627709, 36.1, 22),
        (-28.627709, -36.1, 22),
        (-28.627709, 0, 22),
        (36.1, 21.472291, 0),
        (36.1, -21.472291, 0),
        (36.1, -28.627709, 0),
        (0, -28.627709, 0),
        (-36.1, -28.627709, 0),
        (21.472291, 0, 22),
        (21.472291, -36.1, 22),
        (-21.472291, -36.1, 22),
        (-21.472291, 0, 22),
        (-36.1, -21.472291, 0),
        (-36.1, 21.472291, 0),
        (0, -21.472291, 0),
        (0, 21.472291, 0),
    ]]
    fillet(fillet006_edges, radius=FILLET006_R)

    # Chamfer
    chamfer_edges = [chamfer_body.edges().sort_by_distance(p)[0] for p in [
        (0, -18, 22),
        (-18, 0, 0),
    ]]
    chamfer(chamfer_edges, length=CHAMFER_SIZE)


solid = chamfer_body.part
